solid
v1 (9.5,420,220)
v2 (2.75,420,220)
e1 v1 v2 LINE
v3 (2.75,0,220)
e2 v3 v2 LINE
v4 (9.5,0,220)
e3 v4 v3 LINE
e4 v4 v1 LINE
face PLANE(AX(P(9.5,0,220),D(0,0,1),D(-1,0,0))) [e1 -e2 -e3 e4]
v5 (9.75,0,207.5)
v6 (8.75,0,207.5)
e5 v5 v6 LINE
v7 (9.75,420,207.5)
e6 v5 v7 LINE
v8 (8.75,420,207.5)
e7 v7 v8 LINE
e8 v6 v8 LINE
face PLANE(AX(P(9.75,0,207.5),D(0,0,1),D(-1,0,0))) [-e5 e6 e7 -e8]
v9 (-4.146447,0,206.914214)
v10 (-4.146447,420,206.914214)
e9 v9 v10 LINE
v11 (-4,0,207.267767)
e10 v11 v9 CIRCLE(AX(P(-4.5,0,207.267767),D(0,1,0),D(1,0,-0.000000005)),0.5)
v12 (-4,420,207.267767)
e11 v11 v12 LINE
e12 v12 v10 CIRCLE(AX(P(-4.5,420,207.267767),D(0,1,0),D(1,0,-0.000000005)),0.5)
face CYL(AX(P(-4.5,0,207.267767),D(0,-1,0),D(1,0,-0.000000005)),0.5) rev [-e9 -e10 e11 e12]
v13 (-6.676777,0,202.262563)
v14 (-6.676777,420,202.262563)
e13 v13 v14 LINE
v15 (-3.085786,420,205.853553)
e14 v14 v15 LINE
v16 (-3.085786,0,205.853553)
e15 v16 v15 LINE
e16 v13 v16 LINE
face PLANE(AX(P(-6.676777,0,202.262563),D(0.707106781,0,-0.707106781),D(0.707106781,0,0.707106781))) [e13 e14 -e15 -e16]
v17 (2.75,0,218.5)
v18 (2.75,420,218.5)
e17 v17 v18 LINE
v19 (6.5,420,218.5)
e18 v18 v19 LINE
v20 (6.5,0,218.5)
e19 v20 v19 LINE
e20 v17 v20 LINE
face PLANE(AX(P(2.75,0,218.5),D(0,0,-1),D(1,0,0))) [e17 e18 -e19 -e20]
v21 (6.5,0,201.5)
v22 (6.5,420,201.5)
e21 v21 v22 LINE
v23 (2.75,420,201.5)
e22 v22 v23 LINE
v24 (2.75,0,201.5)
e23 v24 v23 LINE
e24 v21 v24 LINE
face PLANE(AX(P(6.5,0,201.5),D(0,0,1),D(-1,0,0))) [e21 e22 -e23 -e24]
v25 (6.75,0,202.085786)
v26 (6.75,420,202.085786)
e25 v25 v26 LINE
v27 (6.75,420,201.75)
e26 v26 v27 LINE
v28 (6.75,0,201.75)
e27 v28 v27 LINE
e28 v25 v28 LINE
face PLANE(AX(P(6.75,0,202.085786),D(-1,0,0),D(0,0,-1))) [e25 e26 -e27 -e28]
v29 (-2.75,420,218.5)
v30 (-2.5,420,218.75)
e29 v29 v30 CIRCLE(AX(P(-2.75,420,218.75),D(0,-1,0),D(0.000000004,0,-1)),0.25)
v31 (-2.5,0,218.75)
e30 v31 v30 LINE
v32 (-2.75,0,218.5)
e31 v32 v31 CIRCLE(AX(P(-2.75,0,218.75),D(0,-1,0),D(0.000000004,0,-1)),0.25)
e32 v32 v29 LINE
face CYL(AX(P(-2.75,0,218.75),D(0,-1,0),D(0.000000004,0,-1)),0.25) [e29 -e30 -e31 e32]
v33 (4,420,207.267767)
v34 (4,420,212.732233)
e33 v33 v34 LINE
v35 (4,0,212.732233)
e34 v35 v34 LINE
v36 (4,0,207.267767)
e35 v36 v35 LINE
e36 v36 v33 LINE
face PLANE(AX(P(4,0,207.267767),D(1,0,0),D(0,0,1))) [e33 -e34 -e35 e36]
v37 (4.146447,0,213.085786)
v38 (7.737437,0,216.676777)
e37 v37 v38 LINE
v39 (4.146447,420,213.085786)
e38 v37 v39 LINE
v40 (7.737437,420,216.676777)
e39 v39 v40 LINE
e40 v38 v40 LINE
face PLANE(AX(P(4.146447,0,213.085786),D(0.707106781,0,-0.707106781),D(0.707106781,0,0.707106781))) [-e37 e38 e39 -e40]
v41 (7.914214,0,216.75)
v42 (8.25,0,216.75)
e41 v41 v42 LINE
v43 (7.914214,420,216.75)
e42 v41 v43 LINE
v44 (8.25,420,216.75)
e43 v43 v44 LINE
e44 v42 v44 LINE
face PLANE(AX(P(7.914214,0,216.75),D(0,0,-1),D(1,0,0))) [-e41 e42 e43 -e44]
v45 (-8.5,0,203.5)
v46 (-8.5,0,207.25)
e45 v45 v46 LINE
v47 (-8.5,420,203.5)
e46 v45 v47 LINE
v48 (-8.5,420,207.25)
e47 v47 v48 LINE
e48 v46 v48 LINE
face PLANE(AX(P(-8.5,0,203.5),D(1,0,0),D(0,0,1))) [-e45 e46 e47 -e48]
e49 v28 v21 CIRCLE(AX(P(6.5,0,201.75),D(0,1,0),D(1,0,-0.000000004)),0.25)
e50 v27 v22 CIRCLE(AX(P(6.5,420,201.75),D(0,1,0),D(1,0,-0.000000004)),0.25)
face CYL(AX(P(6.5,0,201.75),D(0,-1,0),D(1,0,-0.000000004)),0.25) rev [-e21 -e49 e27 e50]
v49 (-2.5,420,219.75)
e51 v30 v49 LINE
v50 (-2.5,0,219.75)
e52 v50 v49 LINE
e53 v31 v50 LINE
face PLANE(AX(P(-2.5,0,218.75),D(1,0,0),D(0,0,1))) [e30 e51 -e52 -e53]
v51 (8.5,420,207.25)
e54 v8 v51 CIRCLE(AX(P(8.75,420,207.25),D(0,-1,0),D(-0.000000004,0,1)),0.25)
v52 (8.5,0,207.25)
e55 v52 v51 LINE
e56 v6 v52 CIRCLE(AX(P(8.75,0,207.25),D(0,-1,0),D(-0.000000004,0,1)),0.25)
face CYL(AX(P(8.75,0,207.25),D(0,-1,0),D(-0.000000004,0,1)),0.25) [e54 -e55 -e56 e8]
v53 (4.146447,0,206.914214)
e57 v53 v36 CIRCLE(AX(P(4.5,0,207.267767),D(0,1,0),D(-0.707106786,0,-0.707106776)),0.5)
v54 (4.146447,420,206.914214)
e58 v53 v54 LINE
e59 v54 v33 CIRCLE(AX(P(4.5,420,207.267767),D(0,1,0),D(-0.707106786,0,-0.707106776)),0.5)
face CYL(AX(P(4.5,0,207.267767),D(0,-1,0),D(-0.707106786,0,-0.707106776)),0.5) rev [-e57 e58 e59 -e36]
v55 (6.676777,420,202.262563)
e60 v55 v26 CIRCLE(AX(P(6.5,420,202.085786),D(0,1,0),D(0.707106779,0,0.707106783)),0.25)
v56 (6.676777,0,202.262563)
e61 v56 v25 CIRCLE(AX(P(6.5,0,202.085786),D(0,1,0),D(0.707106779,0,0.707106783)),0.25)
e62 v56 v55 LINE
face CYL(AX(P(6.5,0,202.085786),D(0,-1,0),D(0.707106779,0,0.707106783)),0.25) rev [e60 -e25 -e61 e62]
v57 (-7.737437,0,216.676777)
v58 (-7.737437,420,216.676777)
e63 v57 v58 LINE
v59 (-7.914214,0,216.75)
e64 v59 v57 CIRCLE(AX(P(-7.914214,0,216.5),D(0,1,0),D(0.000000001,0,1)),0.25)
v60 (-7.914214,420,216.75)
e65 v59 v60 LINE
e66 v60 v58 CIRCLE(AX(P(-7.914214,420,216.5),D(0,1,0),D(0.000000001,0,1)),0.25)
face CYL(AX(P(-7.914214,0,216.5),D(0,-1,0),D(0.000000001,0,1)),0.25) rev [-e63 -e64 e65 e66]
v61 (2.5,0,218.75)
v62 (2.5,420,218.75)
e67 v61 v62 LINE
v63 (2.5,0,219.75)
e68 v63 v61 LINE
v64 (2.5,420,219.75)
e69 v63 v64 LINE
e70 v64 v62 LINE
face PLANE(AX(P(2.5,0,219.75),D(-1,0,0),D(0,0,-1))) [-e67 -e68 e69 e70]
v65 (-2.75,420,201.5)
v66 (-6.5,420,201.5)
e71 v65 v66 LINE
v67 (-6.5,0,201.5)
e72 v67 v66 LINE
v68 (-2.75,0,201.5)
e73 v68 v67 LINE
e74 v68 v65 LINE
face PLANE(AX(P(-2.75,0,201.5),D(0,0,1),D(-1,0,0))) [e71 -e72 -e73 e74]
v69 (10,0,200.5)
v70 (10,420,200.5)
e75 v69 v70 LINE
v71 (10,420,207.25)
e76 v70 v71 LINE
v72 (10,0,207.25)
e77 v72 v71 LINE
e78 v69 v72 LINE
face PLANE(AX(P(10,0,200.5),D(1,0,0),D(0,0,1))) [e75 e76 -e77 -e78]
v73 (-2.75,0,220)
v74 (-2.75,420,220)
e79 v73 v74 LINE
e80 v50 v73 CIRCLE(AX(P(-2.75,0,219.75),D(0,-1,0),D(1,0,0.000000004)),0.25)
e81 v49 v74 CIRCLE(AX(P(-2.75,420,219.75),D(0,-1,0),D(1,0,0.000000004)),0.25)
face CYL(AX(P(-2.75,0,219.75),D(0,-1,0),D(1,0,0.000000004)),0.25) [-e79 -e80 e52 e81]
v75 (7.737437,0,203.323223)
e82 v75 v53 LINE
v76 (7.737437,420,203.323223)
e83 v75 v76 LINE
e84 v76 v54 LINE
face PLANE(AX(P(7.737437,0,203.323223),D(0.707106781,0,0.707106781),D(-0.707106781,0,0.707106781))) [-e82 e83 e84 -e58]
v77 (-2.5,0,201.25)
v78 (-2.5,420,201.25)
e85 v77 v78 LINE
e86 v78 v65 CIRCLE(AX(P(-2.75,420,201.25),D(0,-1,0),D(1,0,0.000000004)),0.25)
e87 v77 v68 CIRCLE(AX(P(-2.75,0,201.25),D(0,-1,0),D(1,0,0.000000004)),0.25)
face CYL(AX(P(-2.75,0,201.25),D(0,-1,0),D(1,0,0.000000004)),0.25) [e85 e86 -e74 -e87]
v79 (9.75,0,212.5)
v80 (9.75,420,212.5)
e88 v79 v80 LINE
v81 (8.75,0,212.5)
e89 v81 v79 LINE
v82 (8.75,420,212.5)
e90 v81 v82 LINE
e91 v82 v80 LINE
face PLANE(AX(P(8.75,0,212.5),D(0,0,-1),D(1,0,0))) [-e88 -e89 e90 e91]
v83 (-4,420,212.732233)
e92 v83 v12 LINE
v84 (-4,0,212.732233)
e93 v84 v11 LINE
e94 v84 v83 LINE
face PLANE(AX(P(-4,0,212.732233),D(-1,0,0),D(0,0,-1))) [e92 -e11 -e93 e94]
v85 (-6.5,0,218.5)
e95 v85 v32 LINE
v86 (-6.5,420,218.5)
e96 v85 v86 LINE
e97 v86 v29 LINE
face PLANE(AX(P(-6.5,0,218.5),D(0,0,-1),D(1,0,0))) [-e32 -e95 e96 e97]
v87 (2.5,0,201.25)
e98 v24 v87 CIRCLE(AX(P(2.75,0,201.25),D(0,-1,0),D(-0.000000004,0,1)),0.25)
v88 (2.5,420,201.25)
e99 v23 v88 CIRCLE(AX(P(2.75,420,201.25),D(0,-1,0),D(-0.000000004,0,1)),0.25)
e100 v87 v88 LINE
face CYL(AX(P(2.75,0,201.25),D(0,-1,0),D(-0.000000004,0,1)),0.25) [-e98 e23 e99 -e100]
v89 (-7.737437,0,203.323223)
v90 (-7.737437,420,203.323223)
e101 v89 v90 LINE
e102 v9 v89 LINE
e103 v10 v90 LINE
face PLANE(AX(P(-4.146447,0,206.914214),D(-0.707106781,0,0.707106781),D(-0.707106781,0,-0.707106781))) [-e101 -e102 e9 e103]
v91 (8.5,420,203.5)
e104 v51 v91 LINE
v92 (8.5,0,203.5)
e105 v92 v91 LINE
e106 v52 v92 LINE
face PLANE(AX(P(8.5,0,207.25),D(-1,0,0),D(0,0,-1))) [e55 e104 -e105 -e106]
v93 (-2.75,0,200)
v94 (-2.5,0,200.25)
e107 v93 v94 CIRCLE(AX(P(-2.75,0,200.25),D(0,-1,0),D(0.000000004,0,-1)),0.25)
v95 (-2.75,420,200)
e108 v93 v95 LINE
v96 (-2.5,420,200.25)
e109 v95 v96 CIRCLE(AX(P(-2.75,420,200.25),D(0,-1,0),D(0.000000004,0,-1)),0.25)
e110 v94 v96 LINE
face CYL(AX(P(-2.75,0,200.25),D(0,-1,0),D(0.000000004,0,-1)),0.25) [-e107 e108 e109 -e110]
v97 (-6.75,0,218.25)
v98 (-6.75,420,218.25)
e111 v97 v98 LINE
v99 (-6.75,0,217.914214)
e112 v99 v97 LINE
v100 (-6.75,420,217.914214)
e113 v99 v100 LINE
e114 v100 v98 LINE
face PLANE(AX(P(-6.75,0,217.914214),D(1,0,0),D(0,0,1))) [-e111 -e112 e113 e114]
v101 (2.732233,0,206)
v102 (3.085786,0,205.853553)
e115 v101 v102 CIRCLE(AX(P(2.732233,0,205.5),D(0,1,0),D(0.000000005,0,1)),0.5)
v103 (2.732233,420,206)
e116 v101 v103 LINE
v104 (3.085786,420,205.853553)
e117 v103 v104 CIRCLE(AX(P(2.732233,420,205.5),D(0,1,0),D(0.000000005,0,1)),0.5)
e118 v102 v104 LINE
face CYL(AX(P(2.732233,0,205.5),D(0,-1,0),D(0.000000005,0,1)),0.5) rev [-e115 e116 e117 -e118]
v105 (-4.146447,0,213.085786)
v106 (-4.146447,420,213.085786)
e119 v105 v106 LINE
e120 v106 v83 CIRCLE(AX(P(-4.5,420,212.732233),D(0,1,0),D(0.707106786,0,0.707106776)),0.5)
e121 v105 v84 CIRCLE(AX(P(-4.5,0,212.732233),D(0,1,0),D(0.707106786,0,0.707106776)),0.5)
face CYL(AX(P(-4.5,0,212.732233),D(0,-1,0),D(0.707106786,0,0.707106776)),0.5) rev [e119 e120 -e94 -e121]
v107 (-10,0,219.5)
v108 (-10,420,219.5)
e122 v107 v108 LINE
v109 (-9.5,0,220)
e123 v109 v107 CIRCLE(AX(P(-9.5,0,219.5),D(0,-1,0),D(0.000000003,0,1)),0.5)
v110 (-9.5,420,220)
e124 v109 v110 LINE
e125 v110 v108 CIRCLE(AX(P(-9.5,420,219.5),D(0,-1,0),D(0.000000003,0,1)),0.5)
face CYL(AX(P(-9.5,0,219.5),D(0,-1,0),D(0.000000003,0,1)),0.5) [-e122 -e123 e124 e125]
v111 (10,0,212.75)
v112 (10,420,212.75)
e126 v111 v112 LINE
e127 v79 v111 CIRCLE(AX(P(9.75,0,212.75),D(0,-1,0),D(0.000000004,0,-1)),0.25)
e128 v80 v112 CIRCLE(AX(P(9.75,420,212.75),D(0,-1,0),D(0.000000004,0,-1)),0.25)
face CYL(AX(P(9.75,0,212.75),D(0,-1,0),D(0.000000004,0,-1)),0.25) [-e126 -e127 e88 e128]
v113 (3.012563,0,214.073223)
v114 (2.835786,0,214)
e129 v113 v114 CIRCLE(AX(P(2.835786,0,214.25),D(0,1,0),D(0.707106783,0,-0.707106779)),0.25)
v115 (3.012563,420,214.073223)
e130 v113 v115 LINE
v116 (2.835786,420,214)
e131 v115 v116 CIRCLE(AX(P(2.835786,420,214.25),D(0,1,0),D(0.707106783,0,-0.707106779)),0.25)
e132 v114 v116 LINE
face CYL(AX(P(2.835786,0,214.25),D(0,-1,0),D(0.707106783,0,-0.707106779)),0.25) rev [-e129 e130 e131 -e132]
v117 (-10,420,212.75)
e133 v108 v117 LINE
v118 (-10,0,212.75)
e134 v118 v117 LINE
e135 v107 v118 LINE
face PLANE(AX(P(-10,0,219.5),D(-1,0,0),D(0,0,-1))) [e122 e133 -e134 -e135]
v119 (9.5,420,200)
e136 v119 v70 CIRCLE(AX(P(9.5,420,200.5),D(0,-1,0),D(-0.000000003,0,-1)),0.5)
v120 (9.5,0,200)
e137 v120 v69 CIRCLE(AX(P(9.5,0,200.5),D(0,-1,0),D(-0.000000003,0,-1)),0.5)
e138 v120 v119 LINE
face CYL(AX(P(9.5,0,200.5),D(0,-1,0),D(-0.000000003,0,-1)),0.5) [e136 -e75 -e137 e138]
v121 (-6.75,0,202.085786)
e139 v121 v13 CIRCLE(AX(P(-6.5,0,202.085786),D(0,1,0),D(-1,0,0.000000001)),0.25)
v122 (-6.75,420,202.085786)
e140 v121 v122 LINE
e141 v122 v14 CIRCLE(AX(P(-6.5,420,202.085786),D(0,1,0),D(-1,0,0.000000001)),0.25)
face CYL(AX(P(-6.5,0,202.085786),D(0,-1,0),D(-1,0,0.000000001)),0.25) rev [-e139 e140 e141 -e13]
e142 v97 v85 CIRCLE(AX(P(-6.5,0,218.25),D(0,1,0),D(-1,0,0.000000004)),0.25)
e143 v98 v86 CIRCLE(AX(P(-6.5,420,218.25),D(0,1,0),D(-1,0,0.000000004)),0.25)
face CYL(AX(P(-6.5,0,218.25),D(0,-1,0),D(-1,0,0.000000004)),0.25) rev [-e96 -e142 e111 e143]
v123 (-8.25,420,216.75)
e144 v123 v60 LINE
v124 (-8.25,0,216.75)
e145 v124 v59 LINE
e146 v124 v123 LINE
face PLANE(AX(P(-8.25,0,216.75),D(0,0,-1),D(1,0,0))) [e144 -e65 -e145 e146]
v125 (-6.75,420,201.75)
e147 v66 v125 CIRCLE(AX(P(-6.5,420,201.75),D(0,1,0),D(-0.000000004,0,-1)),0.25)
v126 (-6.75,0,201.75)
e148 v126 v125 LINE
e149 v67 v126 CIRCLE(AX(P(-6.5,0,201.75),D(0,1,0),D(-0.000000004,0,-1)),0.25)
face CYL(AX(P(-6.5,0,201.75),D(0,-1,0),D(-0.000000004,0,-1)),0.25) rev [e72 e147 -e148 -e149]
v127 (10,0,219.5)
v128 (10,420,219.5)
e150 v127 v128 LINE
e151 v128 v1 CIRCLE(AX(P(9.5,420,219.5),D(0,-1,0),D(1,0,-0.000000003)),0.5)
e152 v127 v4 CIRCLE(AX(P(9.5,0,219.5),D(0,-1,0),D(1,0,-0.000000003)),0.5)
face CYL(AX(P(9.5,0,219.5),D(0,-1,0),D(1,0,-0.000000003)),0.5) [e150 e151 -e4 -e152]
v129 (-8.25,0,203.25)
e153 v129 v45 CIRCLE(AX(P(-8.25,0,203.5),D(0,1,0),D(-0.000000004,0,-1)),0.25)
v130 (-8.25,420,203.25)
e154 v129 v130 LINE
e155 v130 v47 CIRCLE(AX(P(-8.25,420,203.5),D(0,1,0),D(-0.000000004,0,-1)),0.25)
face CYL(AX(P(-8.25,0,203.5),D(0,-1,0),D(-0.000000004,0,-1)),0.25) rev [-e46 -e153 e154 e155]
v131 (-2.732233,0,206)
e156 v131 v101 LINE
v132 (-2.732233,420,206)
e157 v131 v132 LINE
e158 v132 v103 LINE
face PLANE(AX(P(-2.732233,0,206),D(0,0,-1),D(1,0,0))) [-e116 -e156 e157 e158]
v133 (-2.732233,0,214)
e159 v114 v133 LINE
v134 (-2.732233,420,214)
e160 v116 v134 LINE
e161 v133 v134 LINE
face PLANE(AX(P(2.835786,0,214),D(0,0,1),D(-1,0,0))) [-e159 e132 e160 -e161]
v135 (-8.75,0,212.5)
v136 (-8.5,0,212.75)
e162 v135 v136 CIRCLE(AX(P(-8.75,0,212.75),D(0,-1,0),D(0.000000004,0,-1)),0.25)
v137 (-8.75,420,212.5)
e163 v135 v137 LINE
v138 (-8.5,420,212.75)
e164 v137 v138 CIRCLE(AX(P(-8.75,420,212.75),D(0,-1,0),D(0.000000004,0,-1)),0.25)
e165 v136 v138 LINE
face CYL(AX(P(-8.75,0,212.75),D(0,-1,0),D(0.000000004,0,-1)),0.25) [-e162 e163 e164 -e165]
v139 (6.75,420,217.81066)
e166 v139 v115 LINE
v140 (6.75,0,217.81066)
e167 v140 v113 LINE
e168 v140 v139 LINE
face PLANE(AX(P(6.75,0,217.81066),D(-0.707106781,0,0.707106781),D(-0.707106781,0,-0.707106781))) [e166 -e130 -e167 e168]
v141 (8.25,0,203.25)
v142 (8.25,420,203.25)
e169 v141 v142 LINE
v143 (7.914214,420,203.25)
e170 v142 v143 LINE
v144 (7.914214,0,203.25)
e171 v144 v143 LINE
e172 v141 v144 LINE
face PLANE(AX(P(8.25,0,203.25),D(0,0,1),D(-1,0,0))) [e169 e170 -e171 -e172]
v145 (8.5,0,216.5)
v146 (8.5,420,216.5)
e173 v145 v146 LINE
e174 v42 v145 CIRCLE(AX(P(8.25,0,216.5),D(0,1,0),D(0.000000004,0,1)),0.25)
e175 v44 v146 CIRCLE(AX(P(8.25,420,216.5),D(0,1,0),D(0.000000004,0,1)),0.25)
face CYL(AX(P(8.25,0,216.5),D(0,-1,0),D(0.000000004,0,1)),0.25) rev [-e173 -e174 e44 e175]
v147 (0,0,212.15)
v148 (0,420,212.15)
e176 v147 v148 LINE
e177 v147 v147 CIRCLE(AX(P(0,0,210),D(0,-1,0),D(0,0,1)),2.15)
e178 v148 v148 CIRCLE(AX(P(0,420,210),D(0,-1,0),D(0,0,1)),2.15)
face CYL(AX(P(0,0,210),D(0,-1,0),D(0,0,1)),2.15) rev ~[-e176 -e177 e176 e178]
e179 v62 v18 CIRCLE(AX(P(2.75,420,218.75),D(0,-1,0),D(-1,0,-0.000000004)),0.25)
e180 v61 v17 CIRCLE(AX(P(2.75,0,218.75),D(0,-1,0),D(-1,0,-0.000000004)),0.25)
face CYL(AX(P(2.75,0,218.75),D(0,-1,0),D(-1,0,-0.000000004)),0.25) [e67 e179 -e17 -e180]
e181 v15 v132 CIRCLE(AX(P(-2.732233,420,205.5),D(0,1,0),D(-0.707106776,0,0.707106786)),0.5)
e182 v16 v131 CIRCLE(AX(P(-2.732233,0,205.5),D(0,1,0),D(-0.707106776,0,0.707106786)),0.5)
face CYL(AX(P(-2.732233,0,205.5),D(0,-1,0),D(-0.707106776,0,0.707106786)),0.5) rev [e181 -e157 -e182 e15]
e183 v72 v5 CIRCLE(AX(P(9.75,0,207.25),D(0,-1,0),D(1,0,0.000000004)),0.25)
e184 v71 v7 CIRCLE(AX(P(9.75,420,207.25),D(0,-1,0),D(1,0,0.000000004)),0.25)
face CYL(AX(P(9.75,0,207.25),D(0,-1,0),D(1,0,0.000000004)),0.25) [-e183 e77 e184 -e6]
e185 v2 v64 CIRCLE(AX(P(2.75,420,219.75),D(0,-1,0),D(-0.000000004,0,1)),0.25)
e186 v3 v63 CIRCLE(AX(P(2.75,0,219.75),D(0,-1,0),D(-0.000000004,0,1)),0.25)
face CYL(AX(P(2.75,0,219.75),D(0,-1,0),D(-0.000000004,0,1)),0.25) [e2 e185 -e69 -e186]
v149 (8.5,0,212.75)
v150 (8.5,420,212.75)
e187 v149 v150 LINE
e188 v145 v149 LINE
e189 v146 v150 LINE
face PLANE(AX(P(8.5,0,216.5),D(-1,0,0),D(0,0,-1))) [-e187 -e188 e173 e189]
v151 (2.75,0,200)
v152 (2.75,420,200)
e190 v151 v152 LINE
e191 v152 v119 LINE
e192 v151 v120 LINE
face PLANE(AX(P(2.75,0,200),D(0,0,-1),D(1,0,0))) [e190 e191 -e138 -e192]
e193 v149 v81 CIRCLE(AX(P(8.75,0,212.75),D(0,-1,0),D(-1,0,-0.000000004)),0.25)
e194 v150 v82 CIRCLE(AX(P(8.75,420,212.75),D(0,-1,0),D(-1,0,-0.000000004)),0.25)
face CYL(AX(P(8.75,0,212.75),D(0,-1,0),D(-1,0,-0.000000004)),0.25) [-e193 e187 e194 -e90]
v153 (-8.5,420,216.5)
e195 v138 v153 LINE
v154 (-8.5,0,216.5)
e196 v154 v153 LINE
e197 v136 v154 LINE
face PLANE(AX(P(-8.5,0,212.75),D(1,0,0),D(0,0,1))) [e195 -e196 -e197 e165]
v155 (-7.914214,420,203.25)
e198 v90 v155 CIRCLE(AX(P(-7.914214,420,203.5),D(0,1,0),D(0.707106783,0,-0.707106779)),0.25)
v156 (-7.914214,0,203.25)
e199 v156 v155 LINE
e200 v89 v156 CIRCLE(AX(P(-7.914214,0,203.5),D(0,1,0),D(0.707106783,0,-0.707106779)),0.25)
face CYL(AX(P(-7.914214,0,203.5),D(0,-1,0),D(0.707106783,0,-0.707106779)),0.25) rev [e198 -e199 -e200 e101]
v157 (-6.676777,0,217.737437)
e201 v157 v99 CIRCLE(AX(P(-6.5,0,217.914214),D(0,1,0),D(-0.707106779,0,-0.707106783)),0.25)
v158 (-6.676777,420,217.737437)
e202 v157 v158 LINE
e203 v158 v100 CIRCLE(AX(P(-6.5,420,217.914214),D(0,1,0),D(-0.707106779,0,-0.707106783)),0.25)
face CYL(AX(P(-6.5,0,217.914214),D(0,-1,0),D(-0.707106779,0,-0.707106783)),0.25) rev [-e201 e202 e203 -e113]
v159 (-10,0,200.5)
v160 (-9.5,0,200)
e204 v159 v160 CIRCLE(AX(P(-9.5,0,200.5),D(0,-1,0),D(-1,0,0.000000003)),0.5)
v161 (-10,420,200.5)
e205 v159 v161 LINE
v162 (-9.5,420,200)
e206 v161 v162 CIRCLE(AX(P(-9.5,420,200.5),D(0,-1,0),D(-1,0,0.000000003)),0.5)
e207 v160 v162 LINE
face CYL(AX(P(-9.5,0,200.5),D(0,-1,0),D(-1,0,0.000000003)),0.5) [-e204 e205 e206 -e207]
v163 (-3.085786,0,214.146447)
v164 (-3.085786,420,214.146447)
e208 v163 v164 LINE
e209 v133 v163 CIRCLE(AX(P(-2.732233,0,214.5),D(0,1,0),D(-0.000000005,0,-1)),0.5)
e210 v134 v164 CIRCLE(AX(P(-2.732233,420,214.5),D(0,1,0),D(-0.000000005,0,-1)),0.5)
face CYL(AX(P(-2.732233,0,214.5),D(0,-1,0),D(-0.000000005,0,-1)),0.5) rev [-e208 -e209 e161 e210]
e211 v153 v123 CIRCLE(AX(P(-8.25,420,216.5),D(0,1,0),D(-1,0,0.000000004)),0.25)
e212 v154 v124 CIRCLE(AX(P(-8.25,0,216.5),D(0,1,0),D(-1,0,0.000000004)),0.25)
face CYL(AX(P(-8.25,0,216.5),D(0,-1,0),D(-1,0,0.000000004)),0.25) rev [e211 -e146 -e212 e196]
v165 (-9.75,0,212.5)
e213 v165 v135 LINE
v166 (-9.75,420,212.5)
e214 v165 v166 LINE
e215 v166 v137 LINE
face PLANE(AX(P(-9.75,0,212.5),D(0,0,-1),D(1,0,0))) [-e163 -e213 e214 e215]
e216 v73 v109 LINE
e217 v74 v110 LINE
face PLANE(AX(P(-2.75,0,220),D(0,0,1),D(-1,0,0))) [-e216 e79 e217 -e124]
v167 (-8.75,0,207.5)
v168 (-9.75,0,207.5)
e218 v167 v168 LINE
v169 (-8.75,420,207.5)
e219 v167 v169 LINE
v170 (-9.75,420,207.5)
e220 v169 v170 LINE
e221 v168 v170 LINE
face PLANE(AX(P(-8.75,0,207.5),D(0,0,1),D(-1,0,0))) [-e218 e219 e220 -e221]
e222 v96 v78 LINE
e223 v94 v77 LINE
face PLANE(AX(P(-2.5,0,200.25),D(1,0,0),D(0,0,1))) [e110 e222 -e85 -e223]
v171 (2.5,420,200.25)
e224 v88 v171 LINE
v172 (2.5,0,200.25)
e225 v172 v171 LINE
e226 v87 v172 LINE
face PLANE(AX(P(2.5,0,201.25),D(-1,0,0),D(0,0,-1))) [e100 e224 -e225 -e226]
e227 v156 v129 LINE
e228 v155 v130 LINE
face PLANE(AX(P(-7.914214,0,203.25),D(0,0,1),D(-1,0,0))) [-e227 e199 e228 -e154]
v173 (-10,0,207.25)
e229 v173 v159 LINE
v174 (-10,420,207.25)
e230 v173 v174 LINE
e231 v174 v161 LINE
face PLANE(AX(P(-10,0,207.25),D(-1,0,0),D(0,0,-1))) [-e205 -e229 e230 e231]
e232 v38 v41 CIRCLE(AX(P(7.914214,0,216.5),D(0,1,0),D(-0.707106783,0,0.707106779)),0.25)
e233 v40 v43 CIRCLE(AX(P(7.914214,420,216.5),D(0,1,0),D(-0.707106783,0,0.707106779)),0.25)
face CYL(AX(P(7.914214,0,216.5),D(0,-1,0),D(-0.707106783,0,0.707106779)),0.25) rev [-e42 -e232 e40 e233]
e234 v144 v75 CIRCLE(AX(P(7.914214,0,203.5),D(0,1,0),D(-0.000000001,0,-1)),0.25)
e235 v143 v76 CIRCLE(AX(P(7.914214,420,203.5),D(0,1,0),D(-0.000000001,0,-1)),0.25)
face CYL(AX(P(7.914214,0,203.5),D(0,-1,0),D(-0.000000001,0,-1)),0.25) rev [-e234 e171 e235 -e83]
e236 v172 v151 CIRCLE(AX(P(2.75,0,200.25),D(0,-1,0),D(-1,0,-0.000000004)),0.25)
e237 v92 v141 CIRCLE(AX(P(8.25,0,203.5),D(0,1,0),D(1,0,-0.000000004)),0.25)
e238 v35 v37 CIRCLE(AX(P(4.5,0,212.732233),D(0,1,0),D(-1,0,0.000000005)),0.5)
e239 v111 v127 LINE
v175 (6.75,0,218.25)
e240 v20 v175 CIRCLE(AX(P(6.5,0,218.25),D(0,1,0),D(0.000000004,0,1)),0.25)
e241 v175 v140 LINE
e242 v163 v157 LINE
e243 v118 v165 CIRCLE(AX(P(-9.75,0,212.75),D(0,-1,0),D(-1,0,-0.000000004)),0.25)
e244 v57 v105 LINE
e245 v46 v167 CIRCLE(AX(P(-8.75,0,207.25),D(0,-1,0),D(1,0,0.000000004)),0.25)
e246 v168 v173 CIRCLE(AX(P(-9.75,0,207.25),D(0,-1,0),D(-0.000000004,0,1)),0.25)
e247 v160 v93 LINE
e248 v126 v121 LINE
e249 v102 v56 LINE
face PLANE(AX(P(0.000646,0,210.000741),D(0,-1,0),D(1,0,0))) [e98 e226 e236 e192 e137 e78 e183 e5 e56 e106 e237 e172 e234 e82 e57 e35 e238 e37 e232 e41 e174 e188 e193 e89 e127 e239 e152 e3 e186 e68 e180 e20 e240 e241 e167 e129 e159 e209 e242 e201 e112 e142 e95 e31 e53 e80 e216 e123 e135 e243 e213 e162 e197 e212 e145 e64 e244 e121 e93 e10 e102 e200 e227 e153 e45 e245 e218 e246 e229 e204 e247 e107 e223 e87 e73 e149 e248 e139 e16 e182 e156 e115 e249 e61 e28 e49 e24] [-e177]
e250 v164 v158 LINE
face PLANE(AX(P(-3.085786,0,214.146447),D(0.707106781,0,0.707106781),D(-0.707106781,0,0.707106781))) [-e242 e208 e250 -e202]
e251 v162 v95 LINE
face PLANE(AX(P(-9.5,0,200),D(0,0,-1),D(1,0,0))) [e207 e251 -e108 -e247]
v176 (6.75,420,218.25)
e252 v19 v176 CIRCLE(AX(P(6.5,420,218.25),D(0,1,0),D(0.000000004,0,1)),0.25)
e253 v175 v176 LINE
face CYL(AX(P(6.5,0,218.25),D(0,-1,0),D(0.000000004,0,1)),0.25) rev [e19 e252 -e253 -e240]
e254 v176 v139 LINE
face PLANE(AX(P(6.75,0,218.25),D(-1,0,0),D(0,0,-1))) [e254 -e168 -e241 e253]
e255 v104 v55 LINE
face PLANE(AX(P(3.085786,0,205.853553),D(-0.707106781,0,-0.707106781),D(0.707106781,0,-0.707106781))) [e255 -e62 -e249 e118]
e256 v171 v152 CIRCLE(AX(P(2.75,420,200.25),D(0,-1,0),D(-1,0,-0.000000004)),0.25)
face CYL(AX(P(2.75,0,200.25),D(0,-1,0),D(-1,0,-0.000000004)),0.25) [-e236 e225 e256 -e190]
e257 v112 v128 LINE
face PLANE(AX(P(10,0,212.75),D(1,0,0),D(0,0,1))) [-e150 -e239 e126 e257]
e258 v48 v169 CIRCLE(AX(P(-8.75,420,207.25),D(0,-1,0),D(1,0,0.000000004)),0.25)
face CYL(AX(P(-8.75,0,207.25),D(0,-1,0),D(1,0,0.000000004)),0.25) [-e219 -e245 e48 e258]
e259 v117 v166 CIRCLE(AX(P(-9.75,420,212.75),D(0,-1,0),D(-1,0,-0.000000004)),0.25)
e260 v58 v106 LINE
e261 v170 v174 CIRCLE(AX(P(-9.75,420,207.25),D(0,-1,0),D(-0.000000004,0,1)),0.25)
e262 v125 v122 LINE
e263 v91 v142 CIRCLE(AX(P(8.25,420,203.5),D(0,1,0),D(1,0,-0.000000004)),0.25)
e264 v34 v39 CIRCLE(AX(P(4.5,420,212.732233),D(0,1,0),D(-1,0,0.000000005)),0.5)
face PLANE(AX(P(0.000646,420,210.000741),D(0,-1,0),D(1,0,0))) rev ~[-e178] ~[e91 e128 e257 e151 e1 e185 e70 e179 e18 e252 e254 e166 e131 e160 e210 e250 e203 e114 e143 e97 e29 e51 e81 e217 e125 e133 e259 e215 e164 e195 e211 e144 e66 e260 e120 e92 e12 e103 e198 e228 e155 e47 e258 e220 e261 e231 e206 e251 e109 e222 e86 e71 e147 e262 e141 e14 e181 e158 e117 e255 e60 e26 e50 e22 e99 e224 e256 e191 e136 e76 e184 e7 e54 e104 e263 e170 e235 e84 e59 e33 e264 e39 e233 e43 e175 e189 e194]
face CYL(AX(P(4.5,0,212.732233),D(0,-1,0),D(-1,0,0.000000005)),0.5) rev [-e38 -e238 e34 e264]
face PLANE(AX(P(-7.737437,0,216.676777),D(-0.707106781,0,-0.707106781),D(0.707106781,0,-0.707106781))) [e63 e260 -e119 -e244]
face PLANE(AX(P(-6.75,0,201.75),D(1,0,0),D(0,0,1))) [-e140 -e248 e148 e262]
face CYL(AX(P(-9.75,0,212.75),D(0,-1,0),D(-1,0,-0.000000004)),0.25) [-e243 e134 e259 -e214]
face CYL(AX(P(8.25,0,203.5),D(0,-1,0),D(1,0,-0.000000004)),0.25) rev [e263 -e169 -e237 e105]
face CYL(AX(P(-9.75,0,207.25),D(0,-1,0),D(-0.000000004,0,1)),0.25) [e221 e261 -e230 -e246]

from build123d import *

# Parameters (mm, degrees)
SKETCH_1_R      = 2.15
EXTRUDE_1_DEPTH = 420


with BuildPart() as part:
    # Эскиз1 → Бобышка-Вытянуть1 (new body)
    with BuildSketch(Plane(origin=(0, 0, 210), x_dir=(1, 0, 0), z_dir=(0, -1, 0))):
        with BuildLine():
            Line((-10, -2.75), (-10, -9.5))
            ThreePointArc((-10, -9.5), (-9.853553391, -9.853553391), (-9.5, -10))
            Line((-9.5, -10), (-2.75, -10))
            ThreePointArc((-2.75, -10), (-2.573223305, -9.926776695), (-2.5, -9.75))
            Line((-2.5, -9.75), (-2.5, -8.75))
            ThreePointArc((-2.5, -8.75), (-2.573223305, -8.573223305), (-2.75, -8.5))
            Line((-2.75, -8.5), (-6.5, -8.5))
            ThreePointArc((-6.5, -8.5), (-6.676776695, -8.426776695), (-6.75, -8.25))
            Line((-6.75, -8.25), (-6.75, -7.914213562))
            ThreePointArc((-6.75, -7.914213562), (-6.730969883, -7.818542704), (-6.676776695, -7.737436867))
            Line((-6.676776695, -7.737436867), (-3.085786438, -4.146446609))
            ThreePointArc((-3.085786438, -4.146446609), (-2.923574763, -4.038060234), (-2.732233047, -4))
            Line((-2.732233047, -4), (2.732233047, -4))
            ThreePointArc((2.732233047, -4), (2.923574763, -4.038060234), (3.085786438, -4.146446609))
            Line((3.085786438, -4.146446609), (6.676776695, -7.737436867))
            ThreePointArc((6.676776695, -7.737436867), (6.730969883, -7.818542704), (6.75, -7.914213562))
            Line((6.75, -7.914213562), (6.75, -8.25))
            ThreePointArc((6.75, -8.25), (6.676776695, -8.426776695), (6.5, -8.5))
            Line((6.5, -8.5), (2.75, -8.5))
            ThreePointArc((2.75, -8.5), (2.573223305, -8.573223305), (2.5, -8.75))
            Line((2.5, -8.75), (2.5, -9.75))
            ThreePointArc((2.5, -9.75), (2.573223305, -9.926776695), (2.75, -10))
            Line((2.75, -10), (9.5, -10))
            ThreePointArc((9.5, -10), (9.853553391, -9.853553391), (10, -9.5))
            Line((10, -9.5), (10, -2.75))
            ThreePointArc((10, -2.75), (9.926776695, -2.573223305), (9.75, -2.5))
            Line((9.75, -2.5), (8.75, -2.5))
            ThreePointArc((8.75, -2.5), (8.573223305, -2.573223305), (8.5, -2.75))
            Line((8.5, -2.75), (8.5, -6.5))
            ThreePointArc((8.5, -6.5), (8.426776695, -6.676776695), (8.25, -6.75))
            Line((8.25, -6.75), (7.914213562, -6.75))
            ThreePointArc((7.914213562, -6.75), (7.818542704, -6.730969883), (7.737436867, -6.676776695))
            Line((7.737436867, -6.676776695), (4.146446609, -3.085786438))
            ThreePointArc((4.146446609, -3.085786438), (4.038060234, -2.923574763), (4, -2.732233047))
            Line((4, -2.732233047), (4, 2.732233047))
            ThreePointArc((4, 2.732233047), (4.038060234, 2.923574763), (4.146446609, 3.085786438))
            Line((4.146446609, 3.085786438), (7.737436867, 6.676776695))
            ThreePointArc((7.737436867, 6.676776695), (7.818542704, 6.730969883), (7.914213562, 6.75))
            Line((7.914213562, 6.75), (8.25, 6.75))
            ThreePointArc((8.25, 6.75), (8.426776695, 6.676776695), (8.5, 6.5))
            Line((8.5, 6.5), (8.5, 2.75))
            ThreePointArc((8.5, 2.75), (8.573223305, 2.573223305), (8.75, 2.5))
            Line((8.75, 2.5), (9.75, 2.5))
            ThreePointArc((9.75, 2.5), (9.926776695, 2.573223305), (10, 2.75))
            Line((10, 2.75), (10, 9.5))
            ThreePointArc((10, 9.5), (9.853553391, 9.853553391), (9.5, 10))
            Line((9.5, 10), (2.75, 10))
            ThreePointArc((2.75, 10), (2.573223305, 9.926776695), (2.5, 9.75))
            Line((2.5, 9.75), (2.5, 8.75))
            ThreePointArc((2.5, 8.75), (2.573223305, 8.573223305), (2.75, 8.5))
            Line((2.75, 8.5), (6.5, 8.5))
            ThreePointArc((6.5, 8.5), (6.676776695, 8.426776695), (6.75, 8.25))
            Line((6.75, 8.25), (6.75, 7.810660172))
            Line((6.75, 7.810660172), (3.012563133, 4.073223305))
            ThreePointArc((3.012563133, 4.073223305), (2.931457296, 4.019030117), (2.835786438, 4))
            Line((2.835786438, 4), (-2.732233047, 4))
            ThreePointArc((-2.732233047, 4), (-2.923574763, 4.038060234), (-3.085786438, 4.146446609))
            Line((-3.085786438, 4.146446609), (-6.676776695, 7.737436867))
            ThreePointArc((-6.676776695, 7.737436867), (-6.730969883, 7.818542704), (-6.75, 7.914213562))
            Line((-6.75, 7.914213562), (-6.75, 8.25))
            ThreePointArc((-6.75, 8.25), (-6.676776695, 8.426776695), (-6.5, 8.5))
            Line((-6.5, 8.5), (-2.75, 8.5))
            ThreePointArc((-2.75, 8.5), (-2.573223305, 8.573223305), (-2.5, 8.75))
            Line((-2.5, 8.75), (-2.5, 9.75))
            ThreePointArc((-2.5, 9.75), (-2.573223305, 9.926776695), (-2.75, 10))
            Line((-2.75, 10), (-9.5, 10))
            ThreePointArc((-9.5, 10), (-9.853553391, 9.853553391), (-10, 9.5))
            Line((-10, 9.5), (-10, 2.75))
            ThreePointArc((-10, 2.75), (-9.926776695, 2.573223305), (-9.75, 2.5))
            Line((-9.75, 2.5), (-8.75, 2.5))
            ThreePointArc((-8.75, 2.5), (-8.573223305, 2.573223305), (-8.5, 2.75))
            Line((-8.5, 2.75), (-8.5, 6.5))
            ThreePointArc((-8.5, 6.5), (-8.426776695, 6.676776695), (-8.25, 6.75))
            Line((-8.25, 6.75), (-7.914213562, 6.75))
            ThreePointArc((-7.914213562, 6.75), (-7.818542704, 6.730969883), (-7.737436867, 6.676776695))
            Line((-7.737436867, 6.676776695), (-4.146446609, 3.085786438))
            ThreePointArc((-4.146446609, 3.085786438), (-4.038060234, 2.923574763), (-4, 2.732233047))
            Line((-4, 2.732233047), (-4, -2.732233047))
            ThreePointArc((-4, -2.732233047), (-4.038060234, -2.923574763), (-4.146446609, -3.085786438))
            Line((-4.146446609, -3.085786438), (-7.737436867, -6.676776695))
            ThreePointArc((-7.737436867, -6.676776695), (-7.818542704, -6.730969883), (-7.914213562, -6.75))
            Line((-7.914213562, -6.75), (-8.25, -6.75))
            ThreePointArc((-8.25, -6.75), (-8.426776695, -6.676776695), (-8.5, -6.5))
            Line((-8.5, -6.5), (-8.5, -2.75))
            ThreePointArc((-8.5, -2.75), (-8.573223305, -2.573223305), (-8.75, -2.5))
            Line((-8.75, -2.5), (-9.75, -2.5))
            ThreePointArc((-9.75, -2.5), (-9.926776695, -2.573223305), (-10, -2.75))
        make_face()
        with Locations(Location((0, 0, 0), (0, 0, 90))):
            Circle(SKETCH_1_R, mode=Mode.SUBTRACT)
    extrude(amount=-EXTRUDE_1_DEPTH)


solid = part.part
